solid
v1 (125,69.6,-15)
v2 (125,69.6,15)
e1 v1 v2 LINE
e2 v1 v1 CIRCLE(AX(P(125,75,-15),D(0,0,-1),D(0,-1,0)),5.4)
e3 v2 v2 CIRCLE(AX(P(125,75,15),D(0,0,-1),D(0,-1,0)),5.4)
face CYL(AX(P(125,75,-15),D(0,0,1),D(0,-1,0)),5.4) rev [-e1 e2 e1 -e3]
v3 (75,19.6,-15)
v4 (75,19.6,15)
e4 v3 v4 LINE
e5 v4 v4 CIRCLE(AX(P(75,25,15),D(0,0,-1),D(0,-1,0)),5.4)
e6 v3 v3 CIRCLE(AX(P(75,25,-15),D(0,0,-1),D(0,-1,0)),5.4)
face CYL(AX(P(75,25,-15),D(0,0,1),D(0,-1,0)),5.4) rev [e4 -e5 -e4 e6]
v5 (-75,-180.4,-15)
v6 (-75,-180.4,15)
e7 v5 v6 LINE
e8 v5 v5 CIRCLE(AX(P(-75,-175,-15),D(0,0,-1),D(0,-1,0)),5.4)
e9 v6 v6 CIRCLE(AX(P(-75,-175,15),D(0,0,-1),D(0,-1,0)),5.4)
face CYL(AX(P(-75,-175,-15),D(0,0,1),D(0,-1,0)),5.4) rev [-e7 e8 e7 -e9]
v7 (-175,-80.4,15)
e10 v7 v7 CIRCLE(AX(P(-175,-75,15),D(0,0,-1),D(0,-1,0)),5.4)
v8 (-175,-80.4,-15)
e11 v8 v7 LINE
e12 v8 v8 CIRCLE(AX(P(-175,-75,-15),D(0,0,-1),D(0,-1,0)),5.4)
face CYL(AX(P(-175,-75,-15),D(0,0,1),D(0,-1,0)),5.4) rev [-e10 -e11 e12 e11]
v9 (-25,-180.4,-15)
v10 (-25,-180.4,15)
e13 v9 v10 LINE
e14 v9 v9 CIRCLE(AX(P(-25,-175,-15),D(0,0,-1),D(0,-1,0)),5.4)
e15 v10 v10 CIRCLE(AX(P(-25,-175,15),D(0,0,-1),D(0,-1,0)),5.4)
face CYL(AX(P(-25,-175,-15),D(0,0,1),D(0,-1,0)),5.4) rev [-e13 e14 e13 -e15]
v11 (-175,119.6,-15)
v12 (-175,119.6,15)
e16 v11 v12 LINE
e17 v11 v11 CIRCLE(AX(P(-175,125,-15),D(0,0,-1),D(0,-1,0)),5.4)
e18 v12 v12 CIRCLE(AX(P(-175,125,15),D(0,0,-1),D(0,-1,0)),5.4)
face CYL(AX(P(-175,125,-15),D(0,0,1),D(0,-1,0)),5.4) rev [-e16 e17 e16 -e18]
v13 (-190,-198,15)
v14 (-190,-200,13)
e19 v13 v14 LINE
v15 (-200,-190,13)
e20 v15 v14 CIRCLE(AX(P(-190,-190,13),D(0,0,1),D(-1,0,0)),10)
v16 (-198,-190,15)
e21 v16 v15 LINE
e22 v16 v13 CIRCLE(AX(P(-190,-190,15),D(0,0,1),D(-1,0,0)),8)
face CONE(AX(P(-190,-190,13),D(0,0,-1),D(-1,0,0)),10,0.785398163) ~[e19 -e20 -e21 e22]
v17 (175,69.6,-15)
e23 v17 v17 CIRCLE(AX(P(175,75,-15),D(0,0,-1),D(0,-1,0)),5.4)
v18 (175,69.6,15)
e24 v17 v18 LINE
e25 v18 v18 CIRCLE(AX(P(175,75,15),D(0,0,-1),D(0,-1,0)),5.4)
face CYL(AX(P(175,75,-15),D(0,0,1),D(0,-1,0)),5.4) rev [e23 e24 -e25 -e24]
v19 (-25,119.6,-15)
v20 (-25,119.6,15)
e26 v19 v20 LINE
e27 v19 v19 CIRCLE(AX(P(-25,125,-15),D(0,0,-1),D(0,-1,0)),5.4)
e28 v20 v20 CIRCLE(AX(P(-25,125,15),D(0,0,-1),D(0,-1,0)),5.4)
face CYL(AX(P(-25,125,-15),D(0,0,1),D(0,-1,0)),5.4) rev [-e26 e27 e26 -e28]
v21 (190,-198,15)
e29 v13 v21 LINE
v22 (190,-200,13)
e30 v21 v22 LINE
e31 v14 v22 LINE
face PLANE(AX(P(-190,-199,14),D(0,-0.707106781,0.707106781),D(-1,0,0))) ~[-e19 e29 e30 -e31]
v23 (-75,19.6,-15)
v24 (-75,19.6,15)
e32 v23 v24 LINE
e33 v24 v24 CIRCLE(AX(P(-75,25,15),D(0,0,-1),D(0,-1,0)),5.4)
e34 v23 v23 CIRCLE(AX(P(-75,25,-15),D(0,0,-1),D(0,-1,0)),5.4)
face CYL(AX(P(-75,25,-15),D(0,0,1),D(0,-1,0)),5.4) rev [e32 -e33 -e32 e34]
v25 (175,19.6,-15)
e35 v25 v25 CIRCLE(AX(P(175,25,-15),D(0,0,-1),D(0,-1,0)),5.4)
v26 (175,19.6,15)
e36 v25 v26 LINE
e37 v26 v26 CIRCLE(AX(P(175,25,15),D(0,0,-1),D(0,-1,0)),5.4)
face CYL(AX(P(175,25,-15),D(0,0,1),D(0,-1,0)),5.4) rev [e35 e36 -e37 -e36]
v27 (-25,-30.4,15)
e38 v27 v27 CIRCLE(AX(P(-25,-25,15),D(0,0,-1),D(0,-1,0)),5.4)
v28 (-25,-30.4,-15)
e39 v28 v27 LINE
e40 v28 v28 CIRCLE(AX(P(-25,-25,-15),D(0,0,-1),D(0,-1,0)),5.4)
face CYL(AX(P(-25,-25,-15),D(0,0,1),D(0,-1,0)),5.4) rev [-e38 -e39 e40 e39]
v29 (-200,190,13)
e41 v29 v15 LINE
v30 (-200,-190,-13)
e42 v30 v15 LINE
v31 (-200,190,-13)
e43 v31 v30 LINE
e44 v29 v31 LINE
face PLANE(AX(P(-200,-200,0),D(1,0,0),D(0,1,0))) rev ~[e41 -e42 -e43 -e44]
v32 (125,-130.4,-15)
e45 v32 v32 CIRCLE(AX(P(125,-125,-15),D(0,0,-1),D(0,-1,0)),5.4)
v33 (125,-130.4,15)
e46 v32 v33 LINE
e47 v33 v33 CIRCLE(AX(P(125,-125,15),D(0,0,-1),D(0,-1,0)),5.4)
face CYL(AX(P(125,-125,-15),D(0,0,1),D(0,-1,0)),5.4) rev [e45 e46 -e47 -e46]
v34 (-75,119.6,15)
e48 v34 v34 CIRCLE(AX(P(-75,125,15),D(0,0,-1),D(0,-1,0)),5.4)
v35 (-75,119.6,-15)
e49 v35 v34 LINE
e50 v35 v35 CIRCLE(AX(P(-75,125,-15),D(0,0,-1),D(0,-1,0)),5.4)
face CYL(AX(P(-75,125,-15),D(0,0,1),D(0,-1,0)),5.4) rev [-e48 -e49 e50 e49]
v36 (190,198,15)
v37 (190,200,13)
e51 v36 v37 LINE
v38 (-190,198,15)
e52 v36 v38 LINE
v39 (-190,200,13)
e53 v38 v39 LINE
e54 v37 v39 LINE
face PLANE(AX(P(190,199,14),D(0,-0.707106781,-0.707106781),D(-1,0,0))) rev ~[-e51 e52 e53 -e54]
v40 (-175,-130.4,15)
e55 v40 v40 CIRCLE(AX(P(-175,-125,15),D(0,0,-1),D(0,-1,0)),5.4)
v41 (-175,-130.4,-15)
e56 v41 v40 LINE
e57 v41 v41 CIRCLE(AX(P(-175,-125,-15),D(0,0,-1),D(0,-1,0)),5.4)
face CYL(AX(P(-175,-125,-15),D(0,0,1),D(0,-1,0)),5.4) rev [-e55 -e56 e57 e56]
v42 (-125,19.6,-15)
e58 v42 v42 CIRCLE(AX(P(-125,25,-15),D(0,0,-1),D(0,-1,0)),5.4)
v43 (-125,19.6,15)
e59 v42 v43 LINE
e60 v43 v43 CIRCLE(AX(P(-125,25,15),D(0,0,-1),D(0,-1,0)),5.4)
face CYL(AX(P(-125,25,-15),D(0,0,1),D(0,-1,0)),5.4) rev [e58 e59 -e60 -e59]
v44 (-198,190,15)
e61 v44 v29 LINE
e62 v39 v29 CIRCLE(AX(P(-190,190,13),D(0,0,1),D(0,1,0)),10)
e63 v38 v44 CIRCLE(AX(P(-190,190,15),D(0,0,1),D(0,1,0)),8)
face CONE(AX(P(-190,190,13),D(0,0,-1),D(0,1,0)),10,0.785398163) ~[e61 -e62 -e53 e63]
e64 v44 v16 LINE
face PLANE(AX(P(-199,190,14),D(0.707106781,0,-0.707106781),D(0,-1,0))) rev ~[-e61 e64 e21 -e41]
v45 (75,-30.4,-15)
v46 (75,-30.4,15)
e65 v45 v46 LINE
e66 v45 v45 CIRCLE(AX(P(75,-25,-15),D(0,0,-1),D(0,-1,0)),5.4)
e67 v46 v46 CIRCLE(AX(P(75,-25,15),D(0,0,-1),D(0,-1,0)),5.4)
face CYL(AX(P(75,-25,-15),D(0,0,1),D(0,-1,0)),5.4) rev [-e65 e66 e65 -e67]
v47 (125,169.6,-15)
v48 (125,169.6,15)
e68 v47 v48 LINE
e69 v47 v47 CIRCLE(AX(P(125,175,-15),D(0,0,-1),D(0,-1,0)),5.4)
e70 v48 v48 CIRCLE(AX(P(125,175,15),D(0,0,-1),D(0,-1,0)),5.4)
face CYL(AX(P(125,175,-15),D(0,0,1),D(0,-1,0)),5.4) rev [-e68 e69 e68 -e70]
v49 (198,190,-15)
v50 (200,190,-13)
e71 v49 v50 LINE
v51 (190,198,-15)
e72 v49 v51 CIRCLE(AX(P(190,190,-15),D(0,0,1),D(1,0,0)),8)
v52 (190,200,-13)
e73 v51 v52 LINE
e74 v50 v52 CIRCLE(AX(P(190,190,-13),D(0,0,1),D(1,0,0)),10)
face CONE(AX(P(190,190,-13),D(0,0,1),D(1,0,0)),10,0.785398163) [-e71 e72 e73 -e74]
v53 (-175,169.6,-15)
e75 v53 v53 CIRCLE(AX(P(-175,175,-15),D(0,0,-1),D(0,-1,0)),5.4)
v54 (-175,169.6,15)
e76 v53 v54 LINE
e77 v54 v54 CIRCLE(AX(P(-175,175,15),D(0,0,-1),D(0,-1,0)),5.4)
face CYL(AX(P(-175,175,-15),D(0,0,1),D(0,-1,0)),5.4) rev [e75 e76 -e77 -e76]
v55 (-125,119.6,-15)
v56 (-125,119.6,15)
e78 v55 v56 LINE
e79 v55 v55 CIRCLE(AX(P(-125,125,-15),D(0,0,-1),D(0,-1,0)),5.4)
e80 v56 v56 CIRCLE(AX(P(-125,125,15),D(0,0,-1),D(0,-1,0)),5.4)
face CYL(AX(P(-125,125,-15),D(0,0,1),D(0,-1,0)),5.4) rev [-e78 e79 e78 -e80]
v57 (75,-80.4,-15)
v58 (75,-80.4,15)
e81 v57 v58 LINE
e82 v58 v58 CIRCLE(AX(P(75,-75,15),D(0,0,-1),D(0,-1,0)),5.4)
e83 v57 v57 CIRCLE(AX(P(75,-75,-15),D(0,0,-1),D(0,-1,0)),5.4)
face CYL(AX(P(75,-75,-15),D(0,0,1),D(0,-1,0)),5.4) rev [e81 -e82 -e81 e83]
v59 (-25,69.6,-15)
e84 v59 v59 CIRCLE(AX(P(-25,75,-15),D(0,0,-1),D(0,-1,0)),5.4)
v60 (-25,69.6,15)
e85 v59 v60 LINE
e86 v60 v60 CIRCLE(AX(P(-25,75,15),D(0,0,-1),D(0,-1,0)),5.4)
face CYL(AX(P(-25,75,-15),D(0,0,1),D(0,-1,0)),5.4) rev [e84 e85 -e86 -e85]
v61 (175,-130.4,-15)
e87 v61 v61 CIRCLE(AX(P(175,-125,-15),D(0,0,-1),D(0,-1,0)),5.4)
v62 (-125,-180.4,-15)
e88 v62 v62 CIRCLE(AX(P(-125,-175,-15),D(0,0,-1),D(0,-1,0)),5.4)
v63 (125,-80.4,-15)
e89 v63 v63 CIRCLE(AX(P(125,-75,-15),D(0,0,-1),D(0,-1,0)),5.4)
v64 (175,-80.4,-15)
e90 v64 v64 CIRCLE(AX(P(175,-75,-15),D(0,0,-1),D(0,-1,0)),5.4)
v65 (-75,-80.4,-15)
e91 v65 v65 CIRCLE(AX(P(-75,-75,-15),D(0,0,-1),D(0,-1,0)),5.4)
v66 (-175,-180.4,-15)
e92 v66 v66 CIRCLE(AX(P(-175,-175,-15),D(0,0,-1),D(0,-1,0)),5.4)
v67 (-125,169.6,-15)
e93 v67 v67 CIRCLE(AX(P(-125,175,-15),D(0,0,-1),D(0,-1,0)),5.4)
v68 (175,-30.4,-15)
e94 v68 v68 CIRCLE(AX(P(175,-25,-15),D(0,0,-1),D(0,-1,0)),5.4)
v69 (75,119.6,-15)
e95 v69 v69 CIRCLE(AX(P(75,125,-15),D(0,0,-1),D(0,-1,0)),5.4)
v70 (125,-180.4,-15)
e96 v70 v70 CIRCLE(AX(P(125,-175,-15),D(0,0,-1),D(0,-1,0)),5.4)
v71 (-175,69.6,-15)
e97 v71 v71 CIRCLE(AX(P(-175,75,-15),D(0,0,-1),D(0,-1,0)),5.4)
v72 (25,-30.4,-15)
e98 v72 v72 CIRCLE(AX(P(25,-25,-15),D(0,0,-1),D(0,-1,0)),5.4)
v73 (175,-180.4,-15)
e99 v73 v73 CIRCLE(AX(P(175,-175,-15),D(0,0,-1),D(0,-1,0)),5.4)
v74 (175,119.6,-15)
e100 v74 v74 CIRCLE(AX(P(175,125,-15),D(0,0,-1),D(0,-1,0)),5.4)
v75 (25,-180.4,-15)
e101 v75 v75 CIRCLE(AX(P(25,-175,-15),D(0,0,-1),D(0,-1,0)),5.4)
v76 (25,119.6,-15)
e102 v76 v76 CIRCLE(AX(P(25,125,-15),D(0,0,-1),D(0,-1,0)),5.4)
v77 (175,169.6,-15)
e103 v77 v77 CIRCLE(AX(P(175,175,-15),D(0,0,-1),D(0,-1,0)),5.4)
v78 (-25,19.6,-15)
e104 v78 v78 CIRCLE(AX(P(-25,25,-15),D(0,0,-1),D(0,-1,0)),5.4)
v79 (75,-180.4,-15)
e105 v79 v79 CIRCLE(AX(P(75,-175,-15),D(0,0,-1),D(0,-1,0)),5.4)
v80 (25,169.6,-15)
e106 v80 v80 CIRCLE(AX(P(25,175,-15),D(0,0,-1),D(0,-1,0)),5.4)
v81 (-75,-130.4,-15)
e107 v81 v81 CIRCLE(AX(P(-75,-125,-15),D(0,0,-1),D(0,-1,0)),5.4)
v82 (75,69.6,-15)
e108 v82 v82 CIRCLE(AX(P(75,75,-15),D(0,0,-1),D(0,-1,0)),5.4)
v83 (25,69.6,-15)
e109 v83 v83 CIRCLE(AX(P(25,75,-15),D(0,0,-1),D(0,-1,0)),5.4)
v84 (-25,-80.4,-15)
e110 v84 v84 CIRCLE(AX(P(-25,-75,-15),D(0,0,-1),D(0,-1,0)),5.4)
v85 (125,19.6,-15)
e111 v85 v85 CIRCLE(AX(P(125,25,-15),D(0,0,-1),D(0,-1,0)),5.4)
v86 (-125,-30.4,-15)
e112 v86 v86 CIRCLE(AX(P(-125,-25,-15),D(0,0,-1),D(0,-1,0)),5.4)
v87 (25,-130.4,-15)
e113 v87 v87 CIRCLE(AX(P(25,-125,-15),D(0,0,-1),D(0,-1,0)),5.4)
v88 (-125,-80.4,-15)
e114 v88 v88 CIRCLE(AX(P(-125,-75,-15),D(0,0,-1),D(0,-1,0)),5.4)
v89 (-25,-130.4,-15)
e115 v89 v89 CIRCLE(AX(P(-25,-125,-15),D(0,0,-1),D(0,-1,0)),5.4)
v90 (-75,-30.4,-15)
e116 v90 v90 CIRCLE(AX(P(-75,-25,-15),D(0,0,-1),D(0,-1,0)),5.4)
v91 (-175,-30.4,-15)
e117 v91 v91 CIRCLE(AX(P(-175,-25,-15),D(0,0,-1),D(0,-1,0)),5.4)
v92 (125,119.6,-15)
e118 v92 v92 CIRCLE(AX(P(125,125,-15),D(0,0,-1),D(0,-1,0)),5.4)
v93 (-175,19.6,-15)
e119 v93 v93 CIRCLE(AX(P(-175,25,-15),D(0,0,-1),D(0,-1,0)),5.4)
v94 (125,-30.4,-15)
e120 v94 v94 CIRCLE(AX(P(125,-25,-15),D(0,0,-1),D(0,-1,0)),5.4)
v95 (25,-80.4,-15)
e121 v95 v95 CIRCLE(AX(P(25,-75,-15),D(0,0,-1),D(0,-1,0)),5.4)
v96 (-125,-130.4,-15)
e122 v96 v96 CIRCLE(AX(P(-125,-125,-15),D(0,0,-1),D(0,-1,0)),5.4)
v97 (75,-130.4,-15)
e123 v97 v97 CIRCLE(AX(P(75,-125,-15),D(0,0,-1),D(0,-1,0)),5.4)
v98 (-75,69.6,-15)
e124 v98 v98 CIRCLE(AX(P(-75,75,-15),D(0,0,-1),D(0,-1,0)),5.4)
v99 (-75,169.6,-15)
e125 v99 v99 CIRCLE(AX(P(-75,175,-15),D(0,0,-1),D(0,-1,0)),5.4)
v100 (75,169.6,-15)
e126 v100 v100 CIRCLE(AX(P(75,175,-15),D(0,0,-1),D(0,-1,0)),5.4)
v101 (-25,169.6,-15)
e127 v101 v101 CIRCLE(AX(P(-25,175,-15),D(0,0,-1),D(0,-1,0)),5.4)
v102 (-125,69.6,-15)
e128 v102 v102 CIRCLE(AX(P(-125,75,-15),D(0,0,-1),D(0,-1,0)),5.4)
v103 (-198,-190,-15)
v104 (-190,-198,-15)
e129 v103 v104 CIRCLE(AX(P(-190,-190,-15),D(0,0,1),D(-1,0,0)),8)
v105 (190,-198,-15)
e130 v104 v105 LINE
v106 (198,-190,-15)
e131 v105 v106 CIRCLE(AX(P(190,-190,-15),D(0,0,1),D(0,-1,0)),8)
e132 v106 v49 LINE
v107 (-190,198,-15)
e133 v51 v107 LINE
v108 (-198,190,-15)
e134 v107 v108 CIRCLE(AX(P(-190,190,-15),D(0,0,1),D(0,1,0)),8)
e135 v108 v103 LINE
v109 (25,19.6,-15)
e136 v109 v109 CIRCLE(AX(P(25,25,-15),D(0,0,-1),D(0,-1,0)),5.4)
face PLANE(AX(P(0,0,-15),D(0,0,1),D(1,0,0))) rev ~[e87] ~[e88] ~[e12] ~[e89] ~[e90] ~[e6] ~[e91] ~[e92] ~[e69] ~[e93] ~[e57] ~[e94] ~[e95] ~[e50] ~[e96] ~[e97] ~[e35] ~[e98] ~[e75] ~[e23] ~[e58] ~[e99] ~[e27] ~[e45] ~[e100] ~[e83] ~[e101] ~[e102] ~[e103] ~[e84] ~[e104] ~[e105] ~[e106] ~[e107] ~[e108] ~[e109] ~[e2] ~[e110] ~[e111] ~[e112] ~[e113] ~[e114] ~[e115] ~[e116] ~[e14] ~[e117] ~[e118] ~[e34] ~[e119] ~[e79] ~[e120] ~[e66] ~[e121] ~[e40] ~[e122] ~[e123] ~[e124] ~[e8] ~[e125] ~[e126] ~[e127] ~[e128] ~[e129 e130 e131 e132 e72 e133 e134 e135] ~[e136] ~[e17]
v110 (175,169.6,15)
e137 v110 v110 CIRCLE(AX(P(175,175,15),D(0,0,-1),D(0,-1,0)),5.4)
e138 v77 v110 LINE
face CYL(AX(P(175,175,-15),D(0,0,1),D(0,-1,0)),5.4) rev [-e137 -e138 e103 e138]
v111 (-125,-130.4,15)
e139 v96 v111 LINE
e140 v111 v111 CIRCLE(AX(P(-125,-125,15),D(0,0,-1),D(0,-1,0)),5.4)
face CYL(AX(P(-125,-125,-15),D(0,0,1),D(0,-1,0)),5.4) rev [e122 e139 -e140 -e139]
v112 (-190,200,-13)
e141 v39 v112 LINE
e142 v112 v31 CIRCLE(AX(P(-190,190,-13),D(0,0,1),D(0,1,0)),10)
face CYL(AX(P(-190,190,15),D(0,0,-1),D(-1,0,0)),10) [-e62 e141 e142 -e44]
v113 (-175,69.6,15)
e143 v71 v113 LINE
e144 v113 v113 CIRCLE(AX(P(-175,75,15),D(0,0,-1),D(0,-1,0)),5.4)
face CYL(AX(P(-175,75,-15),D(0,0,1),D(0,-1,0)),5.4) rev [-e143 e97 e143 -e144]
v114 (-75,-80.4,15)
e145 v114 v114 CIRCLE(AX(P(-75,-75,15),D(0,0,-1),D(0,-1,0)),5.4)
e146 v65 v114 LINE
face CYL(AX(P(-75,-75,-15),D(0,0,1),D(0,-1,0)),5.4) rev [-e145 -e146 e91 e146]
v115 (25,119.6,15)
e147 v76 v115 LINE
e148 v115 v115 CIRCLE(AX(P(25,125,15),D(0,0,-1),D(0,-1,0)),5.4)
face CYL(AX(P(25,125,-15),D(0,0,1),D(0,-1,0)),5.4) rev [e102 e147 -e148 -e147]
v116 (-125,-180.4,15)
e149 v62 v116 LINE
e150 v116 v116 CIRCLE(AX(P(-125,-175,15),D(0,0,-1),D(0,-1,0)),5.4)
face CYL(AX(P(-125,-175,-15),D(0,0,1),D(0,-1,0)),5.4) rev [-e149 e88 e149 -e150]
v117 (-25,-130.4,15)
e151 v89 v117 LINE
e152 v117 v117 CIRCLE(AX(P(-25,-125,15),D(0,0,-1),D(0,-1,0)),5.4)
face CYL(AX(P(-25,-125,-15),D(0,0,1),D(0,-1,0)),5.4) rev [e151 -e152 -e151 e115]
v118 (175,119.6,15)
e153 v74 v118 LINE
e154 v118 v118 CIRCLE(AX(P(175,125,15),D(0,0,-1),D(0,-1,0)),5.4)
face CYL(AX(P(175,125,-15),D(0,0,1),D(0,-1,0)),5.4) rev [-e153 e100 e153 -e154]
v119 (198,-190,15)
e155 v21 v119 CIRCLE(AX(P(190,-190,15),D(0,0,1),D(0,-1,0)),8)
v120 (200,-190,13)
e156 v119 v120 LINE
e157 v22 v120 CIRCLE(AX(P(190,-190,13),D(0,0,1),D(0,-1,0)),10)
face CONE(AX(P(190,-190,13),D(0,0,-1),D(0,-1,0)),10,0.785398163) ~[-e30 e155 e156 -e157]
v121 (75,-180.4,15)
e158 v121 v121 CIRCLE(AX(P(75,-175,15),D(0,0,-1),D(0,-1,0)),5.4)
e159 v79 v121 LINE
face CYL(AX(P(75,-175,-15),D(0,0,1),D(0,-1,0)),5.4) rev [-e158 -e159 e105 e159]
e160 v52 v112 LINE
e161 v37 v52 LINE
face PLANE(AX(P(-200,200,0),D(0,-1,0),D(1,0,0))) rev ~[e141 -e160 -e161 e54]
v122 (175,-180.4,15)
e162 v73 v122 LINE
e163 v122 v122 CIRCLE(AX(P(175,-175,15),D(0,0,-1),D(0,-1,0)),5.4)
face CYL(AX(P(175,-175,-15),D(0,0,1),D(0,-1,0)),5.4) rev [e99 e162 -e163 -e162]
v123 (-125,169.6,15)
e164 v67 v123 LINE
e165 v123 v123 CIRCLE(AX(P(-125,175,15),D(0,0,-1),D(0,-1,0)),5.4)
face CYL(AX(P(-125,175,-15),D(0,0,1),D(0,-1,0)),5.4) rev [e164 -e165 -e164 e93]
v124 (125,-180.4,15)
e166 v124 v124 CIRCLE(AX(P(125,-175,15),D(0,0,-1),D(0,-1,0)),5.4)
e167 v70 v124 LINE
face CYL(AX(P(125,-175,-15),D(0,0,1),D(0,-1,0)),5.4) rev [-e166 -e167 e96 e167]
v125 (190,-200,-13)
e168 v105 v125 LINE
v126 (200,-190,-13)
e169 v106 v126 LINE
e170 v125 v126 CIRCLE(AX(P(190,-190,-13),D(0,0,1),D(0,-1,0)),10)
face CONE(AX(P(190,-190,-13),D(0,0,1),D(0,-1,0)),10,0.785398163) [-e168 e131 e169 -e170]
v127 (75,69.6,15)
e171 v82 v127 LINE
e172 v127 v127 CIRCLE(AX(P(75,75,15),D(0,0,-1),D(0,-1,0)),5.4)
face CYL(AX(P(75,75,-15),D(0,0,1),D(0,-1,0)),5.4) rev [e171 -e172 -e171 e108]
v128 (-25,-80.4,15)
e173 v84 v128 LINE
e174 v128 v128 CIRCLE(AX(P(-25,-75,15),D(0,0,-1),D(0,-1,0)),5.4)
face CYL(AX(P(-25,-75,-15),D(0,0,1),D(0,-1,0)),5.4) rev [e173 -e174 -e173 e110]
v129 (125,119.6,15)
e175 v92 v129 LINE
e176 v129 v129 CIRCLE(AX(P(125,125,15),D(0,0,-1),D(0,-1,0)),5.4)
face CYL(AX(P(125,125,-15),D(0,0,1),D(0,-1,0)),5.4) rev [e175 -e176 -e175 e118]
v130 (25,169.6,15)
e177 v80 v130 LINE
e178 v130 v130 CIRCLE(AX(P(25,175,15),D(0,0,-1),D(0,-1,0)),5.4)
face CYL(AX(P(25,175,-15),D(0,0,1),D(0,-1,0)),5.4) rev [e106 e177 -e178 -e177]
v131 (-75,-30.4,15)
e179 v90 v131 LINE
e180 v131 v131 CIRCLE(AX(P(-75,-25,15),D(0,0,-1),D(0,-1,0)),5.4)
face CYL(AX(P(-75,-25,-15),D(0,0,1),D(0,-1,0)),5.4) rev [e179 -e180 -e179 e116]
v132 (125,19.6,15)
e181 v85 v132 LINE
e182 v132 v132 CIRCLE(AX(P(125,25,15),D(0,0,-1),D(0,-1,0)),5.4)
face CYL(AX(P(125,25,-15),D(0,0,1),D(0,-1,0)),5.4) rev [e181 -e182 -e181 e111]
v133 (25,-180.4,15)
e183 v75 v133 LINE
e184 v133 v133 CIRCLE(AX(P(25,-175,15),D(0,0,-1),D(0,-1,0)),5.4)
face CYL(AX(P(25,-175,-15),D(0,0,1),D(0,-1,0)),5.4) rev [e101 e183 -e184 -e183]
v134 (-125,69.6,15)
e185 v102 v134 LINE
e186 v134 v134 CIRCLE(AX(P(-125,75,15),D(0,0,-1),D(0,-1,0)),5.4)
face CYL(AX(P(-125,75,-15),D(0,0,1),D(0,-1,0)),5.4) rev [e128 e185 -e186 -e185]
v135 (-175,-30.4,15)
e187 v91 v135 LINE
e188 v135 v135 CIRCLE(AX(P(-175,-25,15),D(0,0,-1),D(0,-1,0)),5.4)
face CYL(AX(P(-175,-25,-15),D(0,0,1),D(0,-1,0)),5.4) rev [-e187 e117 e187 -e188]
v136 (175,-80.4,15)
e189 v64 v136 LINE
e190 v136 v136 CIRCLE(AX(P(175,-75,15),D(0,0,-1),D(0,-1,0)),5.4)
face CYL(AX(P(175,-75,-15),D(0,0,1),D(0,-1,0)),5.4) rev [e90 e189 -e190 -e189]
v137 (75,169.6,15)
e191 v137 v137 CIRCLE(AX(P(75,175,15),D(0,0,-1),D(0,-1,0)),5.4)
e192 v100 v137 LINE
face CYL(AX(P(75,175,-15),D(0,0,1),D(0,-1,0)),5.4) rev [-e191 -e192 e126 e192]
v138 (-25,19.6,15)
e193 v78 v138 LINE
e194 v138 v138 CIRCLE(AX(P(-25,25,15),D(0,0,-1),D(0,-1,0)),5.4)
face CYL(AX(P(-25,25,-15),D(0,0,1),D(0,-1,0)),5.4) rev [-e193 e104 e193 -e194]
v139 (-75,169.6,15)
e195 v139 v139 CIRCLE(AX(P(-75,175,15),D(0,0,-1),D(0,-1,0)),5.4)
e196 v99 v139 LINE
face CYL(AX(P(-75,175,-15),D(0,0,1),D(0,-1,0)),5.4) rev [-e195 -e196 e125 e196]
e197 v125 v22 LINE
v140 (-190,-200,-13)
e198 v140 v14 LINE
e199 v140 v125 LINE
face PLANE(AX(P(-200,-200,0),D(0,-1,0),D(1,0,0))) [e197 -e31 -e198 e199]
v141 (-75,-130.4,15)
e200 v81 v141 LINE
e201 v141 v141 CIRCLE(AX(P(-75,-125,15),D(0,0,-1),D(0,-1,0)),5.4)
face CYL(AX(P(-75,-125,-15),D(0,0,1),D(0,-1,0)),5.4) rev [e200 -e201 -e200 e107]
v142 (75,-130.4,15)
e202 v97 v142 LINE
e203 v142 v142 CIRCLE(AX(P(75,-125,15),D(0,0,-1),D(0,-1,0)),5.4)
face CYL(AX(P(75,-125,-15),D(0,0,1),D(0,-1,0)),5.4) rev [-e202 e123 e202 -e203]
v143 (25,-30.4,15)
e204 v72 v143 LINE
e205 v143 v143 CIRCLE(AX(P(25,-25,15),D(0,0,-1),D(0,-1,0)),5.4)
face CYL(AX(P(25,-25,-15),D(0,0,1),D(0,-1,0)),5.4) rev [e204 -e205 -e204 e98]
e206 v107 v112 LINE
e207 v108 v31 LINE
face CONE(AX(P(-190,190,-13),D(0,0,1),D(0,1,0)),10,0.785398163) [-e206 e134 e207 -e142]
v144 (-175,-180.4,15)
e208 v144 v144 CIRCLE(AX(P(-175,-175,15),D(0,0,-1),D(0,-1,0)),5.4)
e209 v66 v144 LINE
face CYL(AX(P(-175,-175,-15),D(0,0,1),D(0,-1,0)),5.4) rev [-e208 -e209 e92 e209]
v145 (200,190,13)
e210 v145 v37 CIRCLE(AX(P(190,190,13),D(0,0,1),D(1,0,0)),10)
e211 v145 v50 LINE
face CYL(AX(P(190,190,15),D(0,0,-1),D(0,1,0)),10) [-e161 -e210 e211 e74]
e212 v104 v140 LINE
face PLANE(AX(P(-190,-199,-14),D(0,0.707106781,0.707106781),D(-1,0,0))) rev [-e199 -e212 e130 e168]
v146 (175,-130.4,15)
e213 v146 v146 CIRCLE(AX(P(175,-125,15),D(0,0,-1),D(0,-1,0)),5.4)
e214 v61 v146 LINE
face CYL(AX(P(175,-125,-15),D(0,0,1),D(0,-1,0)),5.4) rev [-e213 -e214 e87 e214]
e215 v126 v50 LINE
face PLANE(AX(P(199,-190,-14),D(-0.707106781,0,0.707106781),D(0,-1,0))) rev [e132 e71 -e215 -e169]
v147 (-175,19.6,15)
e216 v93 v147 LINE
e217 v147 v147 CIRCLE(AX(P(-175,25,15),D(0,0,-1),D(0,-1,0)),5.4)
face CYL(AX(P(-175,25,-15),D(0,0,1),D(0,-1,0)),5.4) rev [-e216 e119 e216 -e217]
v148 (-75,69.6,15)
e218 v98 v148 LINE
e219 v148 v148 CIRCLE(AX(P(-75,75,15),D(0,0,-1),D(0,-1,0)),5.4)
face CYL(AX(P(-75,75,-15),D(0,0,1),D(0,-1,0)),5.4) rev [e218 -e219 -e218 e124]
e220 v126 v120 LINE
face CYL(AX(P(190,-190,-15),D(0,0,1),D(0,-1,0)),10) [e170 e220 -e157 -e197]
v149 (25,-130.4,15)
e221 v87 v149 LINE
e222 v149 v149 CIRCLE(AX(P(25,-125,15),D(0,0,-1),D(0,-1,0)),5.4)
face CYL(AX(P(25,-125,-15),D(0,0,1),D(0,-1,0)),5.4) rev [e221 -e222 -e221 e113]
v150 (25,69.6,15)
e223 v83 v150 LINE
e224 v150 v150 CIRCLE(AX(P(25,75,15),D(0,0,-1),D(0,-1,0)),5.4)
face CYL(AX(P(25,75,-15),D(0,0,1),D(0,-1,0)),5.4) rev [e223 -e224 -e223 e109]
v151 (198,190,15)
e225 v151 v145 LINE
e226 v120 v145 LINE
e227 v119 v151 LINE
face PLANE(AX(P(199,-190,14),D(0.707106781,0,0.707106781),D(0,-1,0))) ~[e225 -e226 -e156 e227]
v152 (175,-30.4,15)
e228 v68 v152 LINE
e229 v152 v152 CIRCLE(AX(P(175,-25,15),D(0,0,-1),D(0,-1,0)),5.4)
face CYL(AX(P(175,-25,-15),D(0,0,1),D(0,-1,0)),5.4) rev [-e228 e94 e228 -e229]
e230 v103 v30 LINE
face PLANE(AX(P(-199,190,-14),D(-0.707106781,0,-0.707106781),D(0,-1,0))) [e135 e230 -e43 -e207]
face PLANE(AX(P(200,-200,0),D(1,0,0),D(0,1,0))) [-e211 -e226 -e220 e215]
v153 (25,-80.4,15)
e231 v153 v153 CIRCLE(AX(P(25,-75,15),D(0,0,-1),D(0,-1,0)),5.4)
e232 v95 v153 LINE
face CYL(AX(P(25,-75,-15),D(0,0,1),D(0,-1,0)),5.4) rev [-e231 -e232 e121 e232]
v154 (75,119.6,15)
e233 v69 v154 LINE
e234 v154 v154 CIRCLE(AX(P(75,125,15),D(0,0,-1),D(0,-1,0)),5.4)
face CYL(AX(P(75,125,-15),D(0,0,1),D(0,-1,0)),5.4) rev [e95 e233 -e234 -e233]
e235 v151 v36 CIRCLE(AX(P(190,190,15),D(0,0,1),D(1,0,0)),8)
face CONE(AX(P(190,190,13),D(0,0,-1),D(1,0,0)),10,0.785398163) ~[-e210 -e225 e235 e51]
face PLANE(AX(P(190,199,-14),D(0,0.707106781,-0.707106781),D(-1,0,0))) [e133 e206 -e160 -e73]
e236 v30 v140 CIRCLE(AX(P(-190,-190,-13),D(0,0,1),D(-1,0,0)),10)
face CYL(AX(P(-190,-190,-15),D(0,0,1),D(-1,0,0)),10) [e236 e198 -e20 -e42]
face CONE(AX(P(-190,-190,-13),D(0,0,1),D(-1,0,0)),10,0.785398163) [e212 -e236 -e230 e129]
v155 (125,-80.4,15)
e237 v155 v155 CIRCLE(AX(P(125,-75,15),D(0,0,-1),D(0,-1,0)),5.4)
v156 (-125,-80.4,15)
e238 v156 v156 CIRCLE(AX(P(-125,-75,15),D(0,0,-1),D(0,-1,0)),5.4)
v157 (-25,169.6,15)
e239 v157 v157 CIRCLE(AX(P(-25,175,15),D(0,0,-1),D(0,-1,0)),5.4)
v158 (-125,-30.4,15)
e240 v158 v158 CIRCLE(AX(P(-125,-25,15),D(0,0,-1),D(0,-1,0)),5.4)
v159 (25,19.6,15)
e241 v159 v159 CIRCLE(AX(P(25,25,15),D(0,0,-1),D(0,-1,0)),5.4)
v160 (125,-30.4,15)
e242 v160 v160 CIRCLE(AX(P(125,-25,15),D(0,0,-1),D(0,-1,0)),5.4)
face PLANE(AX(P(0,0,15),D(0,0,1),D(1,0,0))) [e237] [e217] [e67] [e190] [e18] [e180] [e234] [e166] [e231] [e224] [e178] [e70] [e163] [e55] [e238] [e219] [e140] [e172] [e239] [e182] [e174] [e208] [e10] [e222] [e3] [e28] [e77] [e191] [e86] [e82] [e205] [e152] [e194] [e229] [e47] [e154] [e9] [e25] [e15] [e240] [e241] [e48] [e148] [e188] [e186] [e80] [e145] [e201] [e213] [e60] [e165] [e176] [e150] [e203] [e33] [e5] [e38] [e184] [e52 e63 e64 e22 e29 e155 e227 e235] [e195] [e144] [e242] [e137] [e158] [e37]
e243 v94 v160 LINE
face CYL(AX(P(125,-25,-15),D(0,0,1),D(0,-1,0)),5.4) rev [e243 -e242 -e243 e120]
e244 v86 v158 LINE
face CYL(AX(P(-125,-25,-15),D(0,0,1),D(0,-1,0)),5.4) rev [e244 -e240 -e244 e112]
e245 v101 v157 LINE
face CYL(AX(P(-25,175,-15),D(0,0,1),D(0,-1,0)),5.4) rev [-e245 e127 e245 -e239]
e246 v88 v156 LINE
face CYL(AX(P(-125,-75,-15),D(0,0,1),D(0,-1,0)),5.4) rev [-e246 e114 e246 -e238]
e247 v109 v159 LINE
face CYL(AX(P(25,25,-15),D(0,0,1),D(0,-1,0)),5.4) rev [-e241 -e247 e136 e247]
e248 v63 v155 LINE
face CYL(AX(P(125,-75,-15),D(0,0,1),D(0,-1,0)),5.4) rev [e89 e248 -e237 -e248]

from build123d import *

# Parameters (mm, degrees)
SKETCH1_W            = 400
SKETCH1_H            = 400
BOSS_EXTRUDE1_DEPTH  = 15
LPATTERN1_COUNT      = 8
LPATTERN1_PITCH      = 50
LPATTERN1_COUNT_DIR2 = 8
LPATTERN1_PITCH_DIR2 = 50
FILLET1_R            = 10
CHAMFER1_SIZE        = 2
CHAMFER2_SIZE        = 2


with BuildPart() as part:
    # Sketch1 → Boss-Extrude1 (new body, symmetric)
    with BuildSketch(Plane.XY):
        Rectangle(SKETCH1_W, SKETCH1_H)
    extrude(amount=BOSS_EXTRUDE1_DEPTH, both=True)

    # Sketch2 → M12x1.25 Tapped Hole1 (revolve, cut)
    with BuildSketch(Plane(origin=(-175, 175, 15), x_dir=(0, -1, 0), z_dir=(1, 0, 0))):
        Polygon((0, 0), (0, 33.244647343), (5.4, 30), (5.4, 0), align=None)
    m12x1_25_tapped_hole1 = revolve(axis=Axis((-175, 175, 21.35), (0, 0, -1)), mode=Mode.SUBTRACT)

    # LPattern1: M12x1.25 Tapped Hole1 8 × 8
    with Locations(*[(i * LPATTERN1_PITCH, -j * LPATTERN1_PITCH_DIR2, 0) for i in range(LPATTERN1_COUNT) for j in range(LPATTERN1_COUNT_DIR2) if (i, j) != (0, 0)]):
        add(m12x1_25_tapped_hole1, mode=Mode.SUBTRACT)

    # Fillet1
    fillet1_edges = [part.edges().sort_by_distance(p)[0] for p in [
        (200, -200, 0),
        (-200, -200, 0),
        (-200, 200, 0),
        (200, 200, 0),
    ]]
    fillet(fillet1_edges, radius=FILLET1_R)

    # Chamfer1
    chamfer1_edges = [part.edges().sort_by_distance(p)[0] for p in [
        (200, 0, 15),
        (0, -200, 15),
        (0, 200, 15),
        (-200, 0, 15),
        (-197.071067812, -197.071067812, 15),
        (-197.071067812, 197.071067812, 15),
        (197.071067812, 197.071067812, 15),
        (197.071067812, -197.071067812, 15),
    ]]
    chamfer(chamfer1_edges, length=CHAMFER1_SIZE)

    # Chamfer2
    chamfer2_edges = [part.edges().sort_by_distance(p)[0] for p in [
        (200, 0, -15),
        (0, -200, -15),
        (-200, 0, -15),
        (0, 200, -15),
        (-197.071067812, -197.071067812, -15),
        (-197.071067812, 197.071067812, -15),
        (197.071067812, 197.071067812, -15),
        (197.071067812, -197.071067812, -15),
    ]]
    chamfer(chamfer2_edges, length=CHAMFER2_SIZE)


solid = part.part
